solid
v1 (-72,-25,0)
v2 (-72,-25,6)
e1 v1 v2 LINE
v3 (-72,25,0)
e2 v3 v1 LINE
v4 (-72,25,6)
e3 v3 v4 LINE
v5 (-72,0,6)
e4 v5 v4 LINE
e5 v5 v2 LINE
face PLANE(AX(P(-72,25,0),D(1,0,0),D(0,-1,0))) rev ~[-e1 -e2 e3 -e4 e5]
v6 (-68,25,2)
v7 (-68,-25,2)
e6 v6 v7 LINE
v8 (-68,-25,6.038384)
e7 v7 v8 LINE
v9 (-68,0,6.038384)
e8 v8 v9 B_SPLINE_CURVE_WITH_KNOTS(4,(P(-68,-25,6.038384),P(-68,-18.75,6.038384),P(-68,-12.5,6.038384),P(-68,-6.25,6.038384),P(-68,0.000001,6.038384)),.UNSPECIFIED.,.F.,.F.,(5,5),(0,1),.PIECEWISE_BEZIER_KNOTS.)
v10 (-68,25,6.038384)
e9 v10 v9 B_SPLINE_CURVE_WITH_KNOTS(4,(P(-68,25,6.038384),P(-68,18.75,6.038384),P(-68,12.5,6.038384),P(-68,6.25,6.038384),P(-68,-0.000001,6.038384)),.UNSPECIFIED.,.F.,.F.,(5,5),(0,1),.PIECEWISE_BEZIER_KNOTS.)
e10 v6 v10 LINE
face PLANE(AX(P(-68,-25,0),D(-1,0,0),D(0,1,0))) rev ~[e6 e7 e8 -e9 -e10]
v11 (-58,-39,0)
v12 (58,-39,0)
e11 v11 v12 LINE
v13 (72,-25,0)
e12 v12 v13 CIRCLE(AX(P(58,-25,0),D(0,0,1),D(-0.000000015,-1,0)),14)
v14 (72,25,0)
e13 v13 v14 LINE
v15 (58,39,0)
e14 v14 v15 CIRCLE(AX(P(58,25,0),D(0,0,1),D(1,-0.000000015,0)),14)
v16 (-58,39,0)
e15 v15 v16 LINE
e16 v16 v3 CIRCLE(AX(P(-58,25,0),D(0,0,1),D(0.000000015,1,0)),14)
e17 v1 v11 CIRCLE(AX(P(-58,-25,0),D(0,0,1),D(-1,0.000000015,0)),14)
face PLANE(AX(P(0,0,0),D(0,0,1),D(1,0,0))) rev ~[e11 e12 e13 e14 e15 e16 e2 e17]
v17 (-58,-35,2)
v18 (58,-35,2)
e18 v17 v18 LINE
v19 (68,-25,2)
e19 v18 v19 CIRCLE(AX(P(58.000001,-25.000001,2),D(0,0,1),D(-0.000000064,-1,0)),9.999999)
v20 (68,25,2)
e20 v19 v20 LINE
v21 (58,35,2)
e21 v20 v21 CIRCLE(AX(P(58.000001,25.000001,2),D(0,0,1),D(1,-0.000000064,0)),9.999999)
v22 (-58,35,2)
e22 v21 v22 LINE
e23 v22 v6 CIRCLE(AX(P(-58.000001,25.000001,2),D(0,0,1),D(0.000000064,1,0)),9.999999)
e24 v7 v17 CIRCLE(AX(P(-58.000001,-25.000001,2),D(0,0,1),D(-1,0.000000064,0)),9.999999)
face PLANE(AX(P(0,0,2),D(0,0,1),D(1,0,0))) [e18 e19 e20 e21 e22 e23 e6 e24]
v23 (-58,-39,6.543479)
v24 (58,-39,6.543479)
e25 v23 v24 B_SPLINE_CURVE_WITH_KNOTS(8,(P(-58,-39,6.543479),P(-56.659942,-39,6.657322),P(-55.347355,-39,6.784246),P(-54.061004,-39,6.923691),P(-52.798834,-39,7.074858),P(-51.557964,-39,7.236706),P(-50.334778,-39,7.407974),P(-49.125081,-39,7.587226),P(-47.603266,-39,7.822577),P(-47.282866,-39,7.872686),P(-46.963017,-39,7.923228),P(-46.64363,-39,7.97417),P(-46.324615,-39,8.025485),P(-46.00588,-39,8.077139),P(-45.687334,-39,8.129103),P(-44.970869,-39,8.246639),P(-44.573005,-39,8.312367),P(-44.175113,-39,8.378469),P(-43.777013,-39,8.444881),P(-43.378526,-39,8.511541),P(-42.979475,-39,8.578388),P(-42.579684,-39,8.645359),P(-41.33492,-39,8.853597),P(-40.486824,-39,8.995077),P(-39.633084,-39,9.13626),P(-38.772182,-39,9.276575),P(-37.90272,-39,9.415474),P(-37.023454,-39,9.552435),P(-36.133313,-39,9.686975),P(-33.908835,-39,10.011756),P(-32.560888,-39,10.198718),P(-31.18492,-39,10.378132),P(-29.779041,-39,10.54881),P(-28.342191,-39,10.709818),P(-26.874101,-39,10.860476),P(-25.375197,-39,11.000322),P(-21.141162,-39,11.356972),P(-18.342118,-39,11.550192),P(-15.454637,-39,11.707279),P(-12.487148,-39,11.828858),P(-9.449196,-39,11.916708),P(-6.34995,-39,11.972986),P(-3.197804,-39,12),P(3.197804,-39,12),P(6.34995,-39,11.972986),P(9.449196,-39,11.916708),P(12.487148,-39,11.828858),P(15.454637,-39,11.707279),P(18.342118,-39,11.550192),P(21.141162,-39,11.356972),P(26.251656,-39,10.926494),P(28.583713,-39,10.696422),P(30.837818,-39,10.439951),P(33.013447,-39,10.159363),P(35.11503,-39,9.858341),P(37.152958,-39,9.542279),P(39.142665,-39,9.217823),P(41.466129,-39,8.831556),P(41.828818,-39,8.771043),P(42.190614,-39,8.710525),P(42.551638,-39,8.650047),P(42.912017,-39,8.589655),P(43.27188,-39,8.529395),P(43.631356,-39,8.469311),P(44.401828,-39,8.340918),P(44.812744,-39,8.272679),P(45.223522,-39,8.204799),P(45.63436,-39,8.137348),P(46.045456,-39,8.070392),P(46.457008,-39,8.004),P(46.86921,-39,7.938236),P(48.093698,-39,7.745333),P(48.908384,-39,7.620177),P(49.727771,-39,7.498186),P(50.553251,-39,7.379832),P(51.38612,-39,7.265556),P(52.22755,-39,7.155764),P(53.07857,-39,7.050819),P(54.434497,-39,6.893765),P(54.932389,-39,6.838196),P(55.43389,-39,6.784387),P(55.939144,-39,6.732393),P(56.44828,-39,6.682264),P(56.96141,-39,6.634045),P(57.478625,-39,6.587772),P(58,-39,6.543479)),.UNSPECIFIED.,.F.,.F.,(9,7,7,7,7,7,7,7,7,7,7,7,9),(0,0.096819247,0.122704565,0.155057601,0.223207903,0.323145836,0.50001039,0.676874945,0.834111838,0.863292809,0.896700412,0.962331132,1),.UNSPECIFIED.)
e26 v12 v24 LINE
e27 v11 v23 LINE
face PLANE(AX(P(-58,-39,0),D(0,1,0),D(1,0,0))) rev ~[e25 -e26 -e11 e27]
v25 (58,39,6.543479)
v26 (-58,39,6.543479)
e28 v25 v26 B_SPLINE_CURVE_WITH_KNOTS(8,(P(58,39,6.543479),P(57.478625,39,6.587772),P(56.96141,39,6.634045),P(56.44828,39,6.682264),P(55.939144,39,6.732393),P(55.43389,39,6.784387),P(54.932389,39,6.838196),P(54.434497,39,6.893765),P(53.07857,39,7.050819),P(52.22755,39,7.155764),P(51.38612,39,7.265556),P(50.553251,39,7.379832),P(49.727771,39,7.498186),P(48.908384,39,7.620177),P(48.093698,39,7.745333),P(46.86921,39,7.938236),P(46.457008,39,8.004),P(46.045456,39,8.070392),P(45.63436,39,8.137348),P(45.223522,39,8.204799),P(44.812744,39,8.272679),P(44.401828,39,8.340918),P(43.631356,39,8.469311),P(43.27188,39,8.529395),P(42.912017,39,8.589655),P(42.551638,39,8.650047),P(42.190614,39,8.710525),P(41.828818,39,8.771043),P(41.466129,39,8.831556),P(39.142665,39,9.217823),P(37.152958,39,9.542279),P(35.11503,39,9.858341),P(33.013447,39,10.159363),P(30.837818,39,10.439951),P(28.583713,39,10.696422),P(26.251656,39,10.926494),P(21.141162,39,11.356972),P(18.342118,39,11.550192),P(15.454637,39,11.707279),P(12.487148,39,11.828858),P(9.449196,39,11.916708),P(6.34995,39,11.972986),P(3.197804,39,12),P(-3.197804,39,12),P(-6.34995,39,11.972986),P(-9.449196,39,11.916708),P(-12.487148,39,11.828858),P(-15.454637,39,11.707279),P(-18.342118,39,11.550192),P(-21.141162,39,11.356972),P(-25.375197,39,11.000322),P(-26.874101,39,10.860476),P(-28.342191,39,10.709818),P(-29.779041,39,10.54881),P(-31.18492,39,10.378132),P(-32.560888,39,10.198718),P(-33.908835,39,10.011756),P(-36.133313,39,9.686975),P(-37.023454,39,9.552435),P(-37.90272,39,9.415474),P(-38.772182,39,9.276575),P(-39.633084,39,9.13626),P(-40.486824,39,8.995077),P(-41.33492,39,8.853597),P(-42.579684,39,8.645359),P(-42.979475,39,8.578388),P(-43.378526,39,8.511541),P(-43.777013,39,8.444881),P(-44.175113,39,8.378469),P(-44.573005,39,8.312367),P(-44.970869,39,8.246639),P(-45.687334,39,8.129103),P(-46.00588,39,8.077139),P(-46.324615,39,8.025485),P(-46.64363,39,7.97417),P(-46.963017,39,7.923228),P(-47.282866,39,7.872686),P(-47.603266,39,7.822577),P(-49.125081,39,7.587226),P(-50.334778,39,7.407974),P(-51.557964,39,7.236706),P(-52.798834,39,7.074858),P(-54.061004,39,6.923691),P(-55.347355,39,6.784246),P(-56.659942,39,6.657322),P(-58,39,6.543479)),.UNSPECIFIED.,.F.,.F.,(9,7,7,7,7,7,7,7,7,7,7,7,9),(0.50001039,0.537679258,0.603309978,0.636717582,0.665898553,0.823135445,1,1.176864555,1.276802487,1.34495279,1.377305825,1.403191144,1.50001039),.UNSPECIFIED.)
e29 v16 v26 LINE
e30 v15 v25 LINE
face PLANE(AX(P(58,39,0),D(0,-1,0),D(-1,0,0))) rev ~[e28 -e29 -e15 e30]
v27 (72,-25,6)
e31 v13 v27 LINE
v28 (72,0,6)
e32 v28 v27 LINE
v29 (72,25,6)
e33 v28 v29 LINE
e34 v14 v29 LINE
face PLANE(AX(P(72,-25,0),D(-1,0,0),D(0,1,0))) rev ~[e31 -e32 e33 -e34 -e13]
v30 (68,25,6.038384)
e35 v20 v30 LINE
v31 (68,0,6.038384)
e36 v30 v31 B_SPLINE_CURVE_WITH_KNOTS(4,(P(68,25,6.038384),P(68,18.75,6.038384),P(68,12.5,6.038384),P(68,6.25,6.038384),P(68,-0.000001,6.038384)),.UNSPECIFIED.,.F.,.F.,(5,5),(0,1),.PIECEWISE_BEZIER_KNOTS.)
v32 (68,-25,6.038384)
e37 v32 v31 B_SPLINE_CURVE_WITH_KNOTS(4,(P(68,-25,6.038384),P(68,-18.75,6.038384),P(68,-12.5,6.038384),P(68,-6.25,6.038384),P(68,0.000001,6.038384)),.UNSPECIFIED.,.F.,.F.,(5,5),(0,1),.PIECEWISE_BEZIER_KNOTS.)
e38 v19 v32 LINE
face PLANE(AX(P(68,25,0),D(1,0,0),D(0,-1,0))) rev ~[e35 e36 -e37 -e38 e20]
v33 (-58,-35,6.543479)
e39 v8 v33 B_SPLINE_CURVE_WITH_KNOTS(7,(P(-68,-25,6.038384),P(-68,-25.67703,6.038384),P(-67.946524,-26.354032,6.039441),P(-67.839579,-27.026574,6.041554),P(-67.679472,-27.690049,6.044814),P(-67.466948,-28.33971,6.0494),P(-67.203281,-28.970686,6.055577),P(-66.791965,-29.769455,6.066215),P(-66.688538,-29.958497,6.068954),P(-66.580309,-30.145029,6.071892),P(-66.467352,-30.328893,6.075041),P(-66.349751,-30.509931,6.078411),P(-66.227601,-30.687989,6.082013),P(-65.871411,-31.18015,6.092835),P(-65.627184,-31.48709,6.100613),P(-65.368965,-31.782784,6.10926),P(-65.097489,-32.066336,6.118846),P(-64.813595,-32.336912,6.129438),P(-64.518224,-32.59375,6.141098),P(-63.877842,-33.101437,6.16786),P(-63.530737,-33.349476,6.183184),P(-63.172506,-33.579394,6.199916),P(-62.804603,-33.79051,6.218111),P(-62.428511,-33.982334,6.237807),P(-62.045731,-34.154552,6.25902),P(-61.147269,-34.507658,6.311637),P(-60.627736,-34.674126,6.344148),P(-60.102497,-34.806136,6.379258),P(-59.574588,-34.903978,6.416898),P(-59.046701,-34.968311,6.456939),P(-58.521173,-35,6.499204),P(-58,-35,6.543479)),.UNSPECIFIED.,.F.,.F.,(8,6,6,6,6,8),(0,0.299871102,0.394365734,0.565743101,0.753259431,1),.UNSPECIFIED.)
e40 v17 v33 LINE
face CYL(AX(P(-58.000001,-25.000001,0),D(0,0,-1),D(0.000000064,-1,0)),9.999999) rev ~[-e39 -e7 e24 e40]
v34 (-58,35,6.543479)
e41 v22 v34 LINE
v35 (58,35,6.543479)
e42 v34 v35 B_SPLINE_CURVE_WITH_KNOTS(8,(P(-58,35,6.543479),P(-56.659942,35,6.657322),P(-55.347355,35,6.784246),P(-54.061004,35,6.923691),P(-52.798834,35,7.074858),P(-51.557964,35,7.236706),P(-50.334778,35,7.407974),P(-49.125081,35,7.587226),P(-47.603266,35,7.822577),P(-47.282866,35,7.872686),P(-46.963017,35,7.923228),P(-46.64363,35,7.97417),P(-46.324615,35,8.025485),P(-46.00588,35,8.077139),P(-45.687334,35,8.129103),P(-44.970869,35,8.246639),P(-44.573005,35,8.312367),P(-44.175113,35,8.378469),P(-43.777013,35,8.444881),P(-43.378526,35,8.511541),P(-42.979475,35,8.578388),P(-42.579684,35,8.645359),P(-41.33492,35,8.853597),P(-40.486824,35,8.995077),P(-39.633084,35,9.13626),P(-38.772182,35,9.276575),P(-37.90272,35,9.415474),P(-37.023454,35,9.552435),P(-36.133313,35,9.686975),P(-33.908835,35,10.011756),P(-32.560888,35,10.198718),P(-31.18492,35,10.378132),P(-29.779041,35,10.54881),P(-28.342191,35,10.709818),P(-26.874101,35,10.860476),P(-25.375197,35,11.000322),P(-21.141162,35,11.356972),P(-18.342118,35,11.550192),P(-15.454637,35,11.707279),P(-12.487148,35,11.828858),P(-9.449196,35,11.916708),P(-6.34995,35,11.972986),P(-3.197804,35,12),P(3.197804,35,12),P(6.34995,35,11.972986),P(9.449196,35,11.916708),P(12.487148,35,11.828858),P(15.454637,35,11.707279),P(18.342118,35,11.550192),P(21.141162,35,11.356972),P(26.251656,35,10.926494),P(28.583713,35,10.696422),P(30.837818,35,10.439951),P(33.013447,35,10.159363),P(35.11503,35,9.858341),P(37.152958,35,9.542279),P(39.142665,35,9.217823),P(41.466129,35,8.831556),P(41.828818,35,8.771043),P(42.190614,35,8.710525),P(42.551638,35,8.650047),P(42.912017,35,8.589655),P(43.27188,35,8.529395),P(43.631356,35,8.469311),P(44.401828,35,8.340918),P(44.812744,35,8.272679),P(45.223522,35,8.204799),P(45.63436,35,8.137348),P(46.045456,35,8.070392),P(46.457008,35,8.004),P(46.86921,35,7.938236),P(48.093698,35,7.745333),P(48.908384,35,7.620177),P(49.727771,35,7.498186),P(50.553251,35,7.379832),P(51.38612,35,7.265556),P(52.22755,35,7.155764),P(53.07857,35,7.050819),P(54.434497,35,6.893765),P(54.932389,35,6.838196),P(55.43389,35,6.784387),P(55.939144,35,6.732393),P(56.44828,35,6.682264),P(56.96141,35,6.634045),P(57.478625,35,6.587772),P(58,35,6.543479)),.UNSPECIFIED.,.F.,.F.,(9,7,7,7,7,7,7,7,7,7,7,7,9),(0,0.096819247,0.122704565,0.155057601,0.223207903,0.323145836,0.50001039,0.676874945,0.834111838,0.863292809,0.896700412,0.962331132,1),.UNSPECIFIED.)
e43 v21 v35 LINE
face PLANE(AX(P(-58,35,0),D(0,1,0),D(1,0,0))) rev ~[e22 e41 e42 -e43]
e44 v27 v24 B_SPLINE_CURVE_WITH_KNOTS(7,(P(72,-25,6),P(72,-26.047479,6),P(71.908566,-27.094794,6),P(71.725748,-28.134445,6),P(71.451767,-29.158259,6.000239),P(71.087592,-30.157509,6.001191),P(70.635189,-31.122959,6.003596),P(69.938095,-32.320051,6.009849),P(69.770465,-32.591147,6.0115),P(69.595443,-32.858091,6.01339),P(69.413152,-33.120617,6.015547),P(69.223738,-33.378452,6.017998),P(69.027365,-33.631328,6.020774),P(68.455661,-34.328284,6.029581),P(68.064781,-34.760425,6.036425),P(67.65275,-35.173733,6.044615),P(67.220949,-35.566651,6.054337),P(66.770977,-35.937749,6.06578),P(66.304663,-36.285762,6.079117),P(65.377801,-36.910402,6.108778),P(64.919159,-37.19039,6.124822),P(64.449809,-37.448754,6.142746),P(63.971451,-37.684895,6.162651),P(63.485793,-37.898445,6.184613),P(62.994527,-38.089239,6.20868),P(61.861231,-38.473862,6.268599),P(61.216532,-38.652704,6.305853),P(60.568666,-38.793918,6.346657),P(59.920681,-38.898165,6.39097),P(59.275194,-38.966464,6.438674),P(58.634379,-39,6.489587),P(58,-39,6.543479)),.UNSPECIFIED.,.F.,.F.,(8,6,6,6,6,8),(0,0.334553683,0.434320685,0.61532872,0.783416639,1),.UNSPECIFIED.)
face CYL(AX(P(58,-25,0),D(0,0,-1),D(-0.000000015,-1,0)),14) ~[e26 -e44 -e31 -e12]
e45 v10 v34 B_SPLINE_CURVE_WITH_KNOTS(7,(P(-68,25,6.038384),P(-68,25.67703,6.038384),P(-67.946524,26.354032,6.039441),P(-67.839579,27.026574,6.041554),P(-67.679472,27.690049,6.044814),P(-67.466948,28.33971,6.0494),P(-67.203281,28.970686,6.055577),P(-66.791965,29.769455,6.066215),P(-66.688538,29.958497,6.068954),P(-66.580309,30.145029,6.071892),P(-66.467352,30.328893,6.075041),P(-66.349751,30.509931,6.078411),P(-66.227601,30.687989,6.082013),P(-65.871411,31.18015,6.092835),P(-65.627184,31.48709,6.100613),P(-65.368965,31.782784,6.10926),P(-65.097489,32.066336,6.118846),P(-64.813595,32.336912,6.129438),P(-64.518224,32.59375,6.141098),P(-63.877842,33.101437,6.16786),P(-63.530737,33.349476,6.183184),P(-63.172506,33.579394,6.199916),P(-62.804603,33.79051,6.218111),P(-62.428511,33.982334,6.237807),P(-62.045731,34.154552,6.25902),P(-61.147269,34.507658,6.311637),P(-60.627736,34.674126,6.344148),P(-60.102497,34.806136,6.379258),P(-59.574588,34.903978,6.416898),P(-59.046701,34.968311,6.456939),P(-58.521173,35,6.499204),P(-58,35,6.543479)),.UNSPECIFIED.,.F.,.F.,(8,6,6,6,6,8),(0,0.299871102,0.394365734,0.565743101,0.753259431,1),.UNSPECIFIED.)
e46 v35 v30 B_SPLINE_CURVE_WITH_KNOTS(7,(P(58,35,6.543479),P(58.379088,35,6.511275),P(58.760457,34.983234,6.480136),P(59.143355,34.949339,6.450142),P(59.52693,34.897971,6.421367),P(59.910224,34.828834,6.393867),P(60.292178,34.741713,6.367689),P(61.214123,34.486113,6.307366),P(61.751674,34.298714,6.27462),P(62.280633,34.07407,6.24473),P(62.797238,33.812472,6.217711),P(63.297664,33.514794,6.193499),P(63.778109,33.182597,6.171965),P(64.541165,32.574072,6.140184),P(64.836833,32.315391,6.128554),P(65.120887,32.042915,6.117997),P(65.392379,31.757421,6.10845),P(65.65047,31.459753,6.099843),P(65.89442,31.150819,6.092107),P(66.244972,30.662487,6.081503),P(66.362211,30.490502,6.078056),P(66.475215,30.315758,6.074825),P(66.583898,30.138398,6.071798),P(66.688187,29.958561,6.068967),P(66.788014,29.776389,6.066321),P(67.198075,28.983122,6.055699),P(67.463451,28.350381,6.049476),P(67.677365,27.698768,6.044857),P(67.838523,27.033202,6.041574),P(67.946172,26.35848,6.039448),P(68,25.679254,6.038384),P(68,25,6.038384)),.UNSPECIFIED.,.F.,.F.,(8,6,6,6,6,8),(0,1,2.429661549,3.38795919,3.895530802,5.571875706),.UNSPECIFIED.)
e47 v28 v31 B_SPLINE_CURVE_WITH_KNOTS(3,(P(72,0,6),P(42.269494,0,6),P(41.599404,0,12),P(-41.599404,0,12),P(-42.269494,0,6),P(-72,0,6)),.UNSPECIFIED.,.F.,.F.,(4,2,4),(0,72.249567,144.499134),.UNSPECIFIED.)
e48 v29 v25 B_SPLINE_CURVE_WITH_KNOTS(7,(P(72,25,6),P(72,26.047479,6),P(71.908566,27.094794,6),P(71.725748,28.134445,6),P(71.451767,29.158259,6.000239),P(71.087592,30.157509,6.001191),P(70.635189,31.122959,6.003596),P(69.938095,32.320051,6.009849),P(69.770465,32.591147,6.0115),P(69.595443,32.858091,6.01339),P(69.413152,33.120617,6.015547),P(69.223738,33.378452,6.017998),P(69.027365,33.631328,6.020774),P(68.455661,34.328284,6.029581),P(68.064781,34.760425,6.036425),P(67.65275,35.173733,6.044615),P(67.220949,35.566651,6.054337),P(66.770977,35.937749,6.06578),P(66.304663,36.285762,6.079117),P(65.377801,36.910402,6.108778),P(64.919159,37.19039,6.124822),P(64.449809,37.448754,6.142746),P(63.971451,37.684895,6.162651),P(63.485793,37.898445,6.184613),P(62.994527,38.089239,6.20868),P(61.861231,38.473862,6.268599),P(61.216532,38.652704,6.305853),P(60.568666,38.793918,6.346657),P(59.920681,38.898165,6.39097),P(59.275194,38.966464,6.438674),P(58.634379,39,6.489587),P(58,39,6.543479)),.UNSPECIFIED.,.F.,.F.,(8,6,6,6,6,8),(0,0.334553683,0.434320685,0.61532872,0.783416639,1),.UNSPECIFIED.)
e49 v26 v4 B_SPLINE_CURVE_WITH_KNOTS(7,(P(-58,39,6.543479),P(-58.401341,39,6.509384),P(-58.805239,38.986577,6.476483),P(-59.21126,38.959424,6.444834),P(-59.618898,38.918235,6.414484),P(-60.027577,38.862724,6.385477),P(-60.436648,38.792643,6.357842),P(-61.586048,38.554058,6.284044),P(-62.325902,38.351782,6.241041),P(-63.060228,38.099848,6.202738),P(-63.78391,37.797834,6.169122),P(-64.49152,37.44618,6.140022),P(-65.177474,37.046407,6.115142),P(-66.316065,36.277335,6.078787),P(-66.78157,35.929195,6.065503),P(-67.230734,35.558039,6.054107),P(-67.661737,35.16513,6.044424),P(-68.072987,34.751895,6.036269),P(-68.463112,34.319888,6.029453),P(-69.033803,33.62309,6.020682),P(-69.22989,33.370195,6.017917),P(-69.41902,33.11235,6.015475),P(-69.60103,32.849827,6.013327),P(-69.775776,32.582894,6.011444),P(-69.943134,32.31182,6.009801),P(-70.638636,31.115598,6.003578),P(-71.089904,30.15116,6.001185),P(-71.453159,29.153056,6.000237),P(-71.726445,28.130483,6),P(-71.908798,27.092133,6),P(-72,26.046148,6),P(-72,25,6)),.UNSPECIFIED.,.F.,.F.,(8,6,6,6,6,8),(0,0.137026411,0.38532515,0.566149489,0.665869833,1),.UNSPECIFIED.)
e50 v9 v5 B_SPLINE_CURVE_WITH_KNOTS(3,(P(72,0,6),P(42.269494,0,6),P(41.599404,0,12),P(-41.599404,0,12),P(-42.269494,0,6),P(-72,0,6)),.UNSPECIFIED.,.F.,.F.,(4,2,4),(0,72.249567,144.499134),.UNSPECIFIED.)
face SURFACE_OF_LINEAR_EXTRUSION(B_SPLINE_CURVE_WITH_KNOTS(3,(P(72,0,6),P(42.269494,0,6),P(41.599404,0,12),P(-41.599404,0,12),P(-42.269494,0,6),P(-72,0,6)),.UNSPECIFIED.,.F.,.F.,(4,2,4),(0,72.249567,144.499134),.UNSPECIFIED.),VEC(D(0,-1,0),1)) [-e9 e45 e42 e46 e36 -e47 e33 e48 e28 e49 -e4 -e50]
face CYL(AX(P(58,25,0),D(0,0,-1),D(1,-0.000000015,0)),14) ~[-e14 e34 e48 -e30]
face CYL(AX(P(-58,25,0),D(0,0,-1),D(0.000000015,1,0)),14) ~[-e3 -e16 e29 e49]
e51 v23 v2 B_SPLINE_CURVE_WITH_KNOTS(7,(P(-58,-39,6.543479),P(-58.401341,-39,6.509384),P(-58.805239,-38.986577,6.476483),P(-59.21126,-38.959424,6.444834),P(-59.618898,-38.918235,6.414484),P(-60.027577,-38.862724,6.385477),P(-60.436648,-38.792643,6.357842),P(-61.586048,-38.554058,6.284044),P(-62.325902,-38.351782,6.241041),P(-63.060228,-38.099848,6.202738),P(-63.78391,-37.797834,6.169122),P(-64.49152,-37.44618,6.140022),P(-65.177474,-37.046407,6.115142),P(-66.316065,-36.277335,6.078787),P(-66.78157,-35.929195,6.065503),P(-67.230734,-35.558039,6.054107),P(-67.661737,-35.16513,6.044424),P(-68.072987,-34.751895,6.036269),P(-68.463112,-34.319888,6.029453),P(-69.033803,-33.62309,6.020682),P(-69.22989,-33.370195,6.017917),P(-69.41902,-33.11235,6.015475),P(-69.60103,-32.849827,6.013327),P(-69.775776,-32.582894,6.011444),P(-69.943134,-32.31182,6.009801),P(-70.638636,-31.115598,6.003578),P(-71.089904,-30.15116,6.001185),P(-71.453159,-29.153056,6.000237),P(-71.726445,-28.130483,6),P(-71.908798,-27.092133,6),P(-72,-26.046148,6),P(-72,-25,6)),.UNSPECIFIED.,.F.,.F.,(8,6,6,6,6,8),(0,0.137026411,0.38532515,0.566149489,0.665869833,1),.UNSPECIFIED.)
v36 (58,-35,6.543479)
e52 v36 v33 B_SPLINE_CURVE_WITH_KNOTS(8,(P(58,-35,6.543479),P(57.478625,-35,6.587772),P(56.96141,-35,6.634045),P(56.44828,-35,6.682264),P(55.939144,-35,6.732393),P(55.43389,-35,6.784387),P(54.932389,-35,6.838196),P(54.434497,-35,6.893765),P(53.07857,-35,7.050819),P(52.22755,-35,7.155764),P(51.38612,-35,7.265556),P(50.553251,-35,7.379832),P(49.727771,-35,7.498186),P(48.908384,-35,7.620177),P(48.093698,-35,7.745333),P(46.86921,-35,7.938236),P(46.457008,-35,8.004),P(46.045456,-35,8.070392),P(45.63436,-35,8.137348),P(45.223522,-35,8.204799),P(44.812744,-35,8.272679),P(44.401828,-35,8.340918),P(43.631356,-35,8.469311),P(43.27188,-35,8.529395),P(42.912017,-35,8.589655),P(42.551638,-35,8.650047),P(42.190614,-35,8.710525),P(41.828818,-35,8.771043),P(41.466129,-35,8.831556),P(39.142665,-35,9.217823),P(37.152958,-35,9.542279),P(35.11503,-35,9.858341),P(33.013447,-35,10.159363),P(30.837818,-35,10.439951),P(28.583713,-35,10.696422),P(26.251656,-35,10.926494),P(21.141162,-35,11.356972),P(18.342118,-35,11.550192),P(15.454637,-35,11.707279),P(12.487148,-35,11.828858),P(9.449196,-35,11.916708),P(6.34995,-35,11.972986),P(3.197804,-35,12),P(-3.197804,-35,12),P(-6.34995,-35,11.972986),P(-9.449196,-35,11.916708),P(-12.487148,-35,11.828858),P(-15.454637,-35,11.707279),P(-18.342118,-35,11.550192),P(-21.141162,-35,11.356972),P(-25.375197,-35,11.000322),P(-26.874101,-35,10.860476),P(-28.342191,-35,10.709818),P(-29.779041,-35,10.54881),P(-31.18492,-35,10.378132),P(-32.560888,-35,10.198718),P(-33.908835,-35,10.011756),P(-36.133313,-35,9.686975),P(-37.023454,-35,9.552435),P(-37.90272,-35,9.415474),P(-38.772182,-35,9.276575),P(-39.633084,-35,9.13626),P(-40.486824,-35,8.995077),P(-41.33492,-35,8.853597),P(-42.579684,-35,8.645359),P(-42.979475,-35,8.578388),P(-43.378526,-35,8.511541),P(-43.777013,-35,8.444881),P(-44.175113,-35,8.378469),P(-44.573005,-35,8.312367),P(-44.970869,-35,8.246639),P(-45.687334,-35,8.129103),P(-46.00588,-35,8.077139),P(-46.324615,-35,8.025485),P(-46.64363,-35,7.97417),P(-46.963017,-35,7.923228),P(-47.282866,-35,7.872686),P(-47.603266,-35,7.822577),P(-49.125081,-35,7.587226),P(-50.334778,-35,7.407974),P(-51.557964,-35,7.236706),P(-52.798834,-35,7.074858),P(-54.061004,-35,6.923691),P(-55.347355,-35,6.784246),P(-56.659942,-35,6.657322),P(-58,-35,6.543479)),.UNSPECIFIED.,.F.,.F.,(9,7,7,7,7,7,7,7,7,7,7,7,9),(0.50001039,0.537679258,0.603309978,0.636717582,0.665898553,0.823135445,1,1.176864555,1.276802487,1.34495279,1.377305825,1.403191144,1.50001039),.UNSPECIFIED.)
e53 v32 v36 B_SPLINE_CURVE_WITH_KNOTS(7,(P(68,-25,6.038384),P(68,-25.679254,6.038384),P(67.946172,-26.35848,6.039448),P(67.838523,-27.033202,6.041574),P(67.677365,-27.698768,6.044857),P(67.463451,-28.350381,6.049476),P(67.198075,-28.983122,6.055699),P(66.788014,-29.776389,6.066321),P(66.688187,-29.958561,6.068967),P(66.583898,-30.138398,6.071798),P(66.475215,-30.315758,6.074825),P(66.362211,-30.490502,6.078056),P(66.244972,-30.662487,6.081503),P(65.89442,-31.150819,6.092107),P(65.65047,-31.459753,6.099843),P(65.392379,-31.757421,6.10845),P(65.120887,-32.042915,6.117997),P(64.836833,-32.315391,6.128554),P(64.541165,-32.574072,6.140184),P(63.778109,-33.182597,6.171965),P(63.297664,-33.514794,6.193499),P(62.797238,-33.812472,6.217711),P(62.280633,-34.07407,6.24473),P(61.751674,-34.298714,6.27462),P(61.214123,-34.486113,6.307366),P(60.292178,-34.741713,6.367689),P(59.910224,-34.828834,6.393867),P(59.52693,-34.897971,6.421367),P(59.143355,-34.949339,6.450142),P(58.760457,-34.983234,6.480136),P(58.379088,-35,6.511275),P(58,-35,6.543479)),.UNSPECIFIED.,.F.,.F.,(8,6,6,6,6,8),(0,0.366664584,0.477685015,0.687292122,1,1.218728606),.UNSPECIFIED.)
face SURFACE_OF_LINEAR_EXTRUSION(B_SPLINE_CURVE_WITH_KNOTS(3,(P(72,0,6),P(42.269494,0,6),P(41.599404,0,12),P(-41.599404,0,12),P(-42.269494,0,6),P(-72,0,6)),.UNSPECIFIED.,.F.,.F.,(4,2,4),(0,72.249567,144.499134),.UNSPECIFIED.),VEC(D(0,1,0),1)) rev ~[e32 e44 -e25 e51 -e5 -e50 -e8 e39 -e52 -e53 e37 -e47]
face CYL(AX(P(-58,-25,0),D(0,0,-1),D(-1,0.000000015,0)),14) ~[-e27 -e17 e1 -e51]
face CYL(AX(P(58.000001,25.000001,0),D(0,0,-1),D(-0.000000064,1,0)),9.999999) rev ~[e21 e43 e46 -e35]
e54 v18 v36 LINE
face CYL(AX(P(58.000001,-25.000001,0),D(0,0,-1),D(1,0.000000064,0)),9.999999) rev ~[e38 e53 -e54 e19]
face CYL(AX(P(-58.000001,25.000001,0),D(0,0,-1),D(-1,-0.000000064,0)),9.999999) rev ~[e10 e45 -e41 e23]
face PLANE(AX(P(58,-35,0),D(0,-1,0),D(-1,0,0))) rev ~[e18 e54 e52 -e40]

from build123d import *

# Parameters (mm, degrees)
F1_DEPTH = 2
F2_DEPTH = 12
F4_DEPTH = 49.5


with BuildPart() as f1:
    # F0 (on Top) → F1 (new body)
    with BuildSketch(Plane.XY):
        with BuildLine():
            Line((-58, -35), (58, -35))
            ThreePointArc((58, -35), (65.071068, -32.071068), (68, -25))
            Line((68, -25), (68, 25))
            ThreePointArc((68, 25), (65.071068, 32.071068), (58, 35))
            Line((58, 35), (-58, 35))
            ThreePointArc((-58, 35), (-65.071068, 32.071068), (-68, 25))
            Line((-68, 25), (-68, -25))
            ThreePointArc((-68, -25), (-65.071068, -32.071068), (-58, -35))
        make_face()
    extrude(amount=F1_DEPTH)

    # F0 (on Top) → F2 (join)
    with BuildSketch(Plane.XY):
        with BuildLine():
            Line((72, -25), (72, 25))
            ThreePointArc((72, 25), (67.899495, 34.899495), (58, 39))
            Line((58, 39), (-58, 39))
            ThreePointArc((-58, 39), (-67.899495, 34.899495), (-72, 25))
            Line((-72, 25), (-72, -25))
            ThreePointArc((-72, -25), (-67.899495, -34.899495), (-58, -39))
            Line((-58, -39), (58, -39))
            ThreePointArc((58, -39), (67.899495, -34.899495), (72, -25))
        make_face()
        with BuildLine():
            ThreePointArc((68, -25), (65.071068, -32.071068), (58, -35))
            Line((58, -35), (-58, -35))
            ThreePointArc((-58, -35), (-65.071068, -32.071068), (-68, -25))
            Line((-68, -25), (-68, 25))
            ThreePointArc((-68, 25), (-65.071068, 32.071068), (-58, 35))
            Line((-58, 35), (58, 35))
            ThreePointArc((58, 35), (65.071068, 32.071068), (68, 25))
            Line((68, 25), (68, -25))
        make_face(mode=Mode.SUBTRACT)
    extrude(amount=F2_DEPTH)

    # F3 (on Front) → F4 (intersect, symmetric)
    with BuildSketch(Plane.XZ):
        with BuildLine():
            Line((-72, 0), (72, 0))
            Line((72, 0), (72, 6))
            add(Edge.make_bspline(
                [(72, 6), (42.269494, 6), (41.599404, 12), (0, 12)],
                knots=[0, 0, 0, 0, 72.249567, 72.249567, 72.249567, 72.249567], degree=3))
            add(Edge.make_bspline(
                [(-72, 6), (-42.269494, 6), (-41.599404, 12), (0, 12)],
                knots=[0, 0, 0, 0, 72.249567, 72.249567, 72.249567, 72.249567], degree=3))
            Line((-72, 6), (-72, 0))
        make_face()
    extrude(amount=F4_DEPTH, both=True, mode=Mode.INTERSECT)


solid = f1.part
